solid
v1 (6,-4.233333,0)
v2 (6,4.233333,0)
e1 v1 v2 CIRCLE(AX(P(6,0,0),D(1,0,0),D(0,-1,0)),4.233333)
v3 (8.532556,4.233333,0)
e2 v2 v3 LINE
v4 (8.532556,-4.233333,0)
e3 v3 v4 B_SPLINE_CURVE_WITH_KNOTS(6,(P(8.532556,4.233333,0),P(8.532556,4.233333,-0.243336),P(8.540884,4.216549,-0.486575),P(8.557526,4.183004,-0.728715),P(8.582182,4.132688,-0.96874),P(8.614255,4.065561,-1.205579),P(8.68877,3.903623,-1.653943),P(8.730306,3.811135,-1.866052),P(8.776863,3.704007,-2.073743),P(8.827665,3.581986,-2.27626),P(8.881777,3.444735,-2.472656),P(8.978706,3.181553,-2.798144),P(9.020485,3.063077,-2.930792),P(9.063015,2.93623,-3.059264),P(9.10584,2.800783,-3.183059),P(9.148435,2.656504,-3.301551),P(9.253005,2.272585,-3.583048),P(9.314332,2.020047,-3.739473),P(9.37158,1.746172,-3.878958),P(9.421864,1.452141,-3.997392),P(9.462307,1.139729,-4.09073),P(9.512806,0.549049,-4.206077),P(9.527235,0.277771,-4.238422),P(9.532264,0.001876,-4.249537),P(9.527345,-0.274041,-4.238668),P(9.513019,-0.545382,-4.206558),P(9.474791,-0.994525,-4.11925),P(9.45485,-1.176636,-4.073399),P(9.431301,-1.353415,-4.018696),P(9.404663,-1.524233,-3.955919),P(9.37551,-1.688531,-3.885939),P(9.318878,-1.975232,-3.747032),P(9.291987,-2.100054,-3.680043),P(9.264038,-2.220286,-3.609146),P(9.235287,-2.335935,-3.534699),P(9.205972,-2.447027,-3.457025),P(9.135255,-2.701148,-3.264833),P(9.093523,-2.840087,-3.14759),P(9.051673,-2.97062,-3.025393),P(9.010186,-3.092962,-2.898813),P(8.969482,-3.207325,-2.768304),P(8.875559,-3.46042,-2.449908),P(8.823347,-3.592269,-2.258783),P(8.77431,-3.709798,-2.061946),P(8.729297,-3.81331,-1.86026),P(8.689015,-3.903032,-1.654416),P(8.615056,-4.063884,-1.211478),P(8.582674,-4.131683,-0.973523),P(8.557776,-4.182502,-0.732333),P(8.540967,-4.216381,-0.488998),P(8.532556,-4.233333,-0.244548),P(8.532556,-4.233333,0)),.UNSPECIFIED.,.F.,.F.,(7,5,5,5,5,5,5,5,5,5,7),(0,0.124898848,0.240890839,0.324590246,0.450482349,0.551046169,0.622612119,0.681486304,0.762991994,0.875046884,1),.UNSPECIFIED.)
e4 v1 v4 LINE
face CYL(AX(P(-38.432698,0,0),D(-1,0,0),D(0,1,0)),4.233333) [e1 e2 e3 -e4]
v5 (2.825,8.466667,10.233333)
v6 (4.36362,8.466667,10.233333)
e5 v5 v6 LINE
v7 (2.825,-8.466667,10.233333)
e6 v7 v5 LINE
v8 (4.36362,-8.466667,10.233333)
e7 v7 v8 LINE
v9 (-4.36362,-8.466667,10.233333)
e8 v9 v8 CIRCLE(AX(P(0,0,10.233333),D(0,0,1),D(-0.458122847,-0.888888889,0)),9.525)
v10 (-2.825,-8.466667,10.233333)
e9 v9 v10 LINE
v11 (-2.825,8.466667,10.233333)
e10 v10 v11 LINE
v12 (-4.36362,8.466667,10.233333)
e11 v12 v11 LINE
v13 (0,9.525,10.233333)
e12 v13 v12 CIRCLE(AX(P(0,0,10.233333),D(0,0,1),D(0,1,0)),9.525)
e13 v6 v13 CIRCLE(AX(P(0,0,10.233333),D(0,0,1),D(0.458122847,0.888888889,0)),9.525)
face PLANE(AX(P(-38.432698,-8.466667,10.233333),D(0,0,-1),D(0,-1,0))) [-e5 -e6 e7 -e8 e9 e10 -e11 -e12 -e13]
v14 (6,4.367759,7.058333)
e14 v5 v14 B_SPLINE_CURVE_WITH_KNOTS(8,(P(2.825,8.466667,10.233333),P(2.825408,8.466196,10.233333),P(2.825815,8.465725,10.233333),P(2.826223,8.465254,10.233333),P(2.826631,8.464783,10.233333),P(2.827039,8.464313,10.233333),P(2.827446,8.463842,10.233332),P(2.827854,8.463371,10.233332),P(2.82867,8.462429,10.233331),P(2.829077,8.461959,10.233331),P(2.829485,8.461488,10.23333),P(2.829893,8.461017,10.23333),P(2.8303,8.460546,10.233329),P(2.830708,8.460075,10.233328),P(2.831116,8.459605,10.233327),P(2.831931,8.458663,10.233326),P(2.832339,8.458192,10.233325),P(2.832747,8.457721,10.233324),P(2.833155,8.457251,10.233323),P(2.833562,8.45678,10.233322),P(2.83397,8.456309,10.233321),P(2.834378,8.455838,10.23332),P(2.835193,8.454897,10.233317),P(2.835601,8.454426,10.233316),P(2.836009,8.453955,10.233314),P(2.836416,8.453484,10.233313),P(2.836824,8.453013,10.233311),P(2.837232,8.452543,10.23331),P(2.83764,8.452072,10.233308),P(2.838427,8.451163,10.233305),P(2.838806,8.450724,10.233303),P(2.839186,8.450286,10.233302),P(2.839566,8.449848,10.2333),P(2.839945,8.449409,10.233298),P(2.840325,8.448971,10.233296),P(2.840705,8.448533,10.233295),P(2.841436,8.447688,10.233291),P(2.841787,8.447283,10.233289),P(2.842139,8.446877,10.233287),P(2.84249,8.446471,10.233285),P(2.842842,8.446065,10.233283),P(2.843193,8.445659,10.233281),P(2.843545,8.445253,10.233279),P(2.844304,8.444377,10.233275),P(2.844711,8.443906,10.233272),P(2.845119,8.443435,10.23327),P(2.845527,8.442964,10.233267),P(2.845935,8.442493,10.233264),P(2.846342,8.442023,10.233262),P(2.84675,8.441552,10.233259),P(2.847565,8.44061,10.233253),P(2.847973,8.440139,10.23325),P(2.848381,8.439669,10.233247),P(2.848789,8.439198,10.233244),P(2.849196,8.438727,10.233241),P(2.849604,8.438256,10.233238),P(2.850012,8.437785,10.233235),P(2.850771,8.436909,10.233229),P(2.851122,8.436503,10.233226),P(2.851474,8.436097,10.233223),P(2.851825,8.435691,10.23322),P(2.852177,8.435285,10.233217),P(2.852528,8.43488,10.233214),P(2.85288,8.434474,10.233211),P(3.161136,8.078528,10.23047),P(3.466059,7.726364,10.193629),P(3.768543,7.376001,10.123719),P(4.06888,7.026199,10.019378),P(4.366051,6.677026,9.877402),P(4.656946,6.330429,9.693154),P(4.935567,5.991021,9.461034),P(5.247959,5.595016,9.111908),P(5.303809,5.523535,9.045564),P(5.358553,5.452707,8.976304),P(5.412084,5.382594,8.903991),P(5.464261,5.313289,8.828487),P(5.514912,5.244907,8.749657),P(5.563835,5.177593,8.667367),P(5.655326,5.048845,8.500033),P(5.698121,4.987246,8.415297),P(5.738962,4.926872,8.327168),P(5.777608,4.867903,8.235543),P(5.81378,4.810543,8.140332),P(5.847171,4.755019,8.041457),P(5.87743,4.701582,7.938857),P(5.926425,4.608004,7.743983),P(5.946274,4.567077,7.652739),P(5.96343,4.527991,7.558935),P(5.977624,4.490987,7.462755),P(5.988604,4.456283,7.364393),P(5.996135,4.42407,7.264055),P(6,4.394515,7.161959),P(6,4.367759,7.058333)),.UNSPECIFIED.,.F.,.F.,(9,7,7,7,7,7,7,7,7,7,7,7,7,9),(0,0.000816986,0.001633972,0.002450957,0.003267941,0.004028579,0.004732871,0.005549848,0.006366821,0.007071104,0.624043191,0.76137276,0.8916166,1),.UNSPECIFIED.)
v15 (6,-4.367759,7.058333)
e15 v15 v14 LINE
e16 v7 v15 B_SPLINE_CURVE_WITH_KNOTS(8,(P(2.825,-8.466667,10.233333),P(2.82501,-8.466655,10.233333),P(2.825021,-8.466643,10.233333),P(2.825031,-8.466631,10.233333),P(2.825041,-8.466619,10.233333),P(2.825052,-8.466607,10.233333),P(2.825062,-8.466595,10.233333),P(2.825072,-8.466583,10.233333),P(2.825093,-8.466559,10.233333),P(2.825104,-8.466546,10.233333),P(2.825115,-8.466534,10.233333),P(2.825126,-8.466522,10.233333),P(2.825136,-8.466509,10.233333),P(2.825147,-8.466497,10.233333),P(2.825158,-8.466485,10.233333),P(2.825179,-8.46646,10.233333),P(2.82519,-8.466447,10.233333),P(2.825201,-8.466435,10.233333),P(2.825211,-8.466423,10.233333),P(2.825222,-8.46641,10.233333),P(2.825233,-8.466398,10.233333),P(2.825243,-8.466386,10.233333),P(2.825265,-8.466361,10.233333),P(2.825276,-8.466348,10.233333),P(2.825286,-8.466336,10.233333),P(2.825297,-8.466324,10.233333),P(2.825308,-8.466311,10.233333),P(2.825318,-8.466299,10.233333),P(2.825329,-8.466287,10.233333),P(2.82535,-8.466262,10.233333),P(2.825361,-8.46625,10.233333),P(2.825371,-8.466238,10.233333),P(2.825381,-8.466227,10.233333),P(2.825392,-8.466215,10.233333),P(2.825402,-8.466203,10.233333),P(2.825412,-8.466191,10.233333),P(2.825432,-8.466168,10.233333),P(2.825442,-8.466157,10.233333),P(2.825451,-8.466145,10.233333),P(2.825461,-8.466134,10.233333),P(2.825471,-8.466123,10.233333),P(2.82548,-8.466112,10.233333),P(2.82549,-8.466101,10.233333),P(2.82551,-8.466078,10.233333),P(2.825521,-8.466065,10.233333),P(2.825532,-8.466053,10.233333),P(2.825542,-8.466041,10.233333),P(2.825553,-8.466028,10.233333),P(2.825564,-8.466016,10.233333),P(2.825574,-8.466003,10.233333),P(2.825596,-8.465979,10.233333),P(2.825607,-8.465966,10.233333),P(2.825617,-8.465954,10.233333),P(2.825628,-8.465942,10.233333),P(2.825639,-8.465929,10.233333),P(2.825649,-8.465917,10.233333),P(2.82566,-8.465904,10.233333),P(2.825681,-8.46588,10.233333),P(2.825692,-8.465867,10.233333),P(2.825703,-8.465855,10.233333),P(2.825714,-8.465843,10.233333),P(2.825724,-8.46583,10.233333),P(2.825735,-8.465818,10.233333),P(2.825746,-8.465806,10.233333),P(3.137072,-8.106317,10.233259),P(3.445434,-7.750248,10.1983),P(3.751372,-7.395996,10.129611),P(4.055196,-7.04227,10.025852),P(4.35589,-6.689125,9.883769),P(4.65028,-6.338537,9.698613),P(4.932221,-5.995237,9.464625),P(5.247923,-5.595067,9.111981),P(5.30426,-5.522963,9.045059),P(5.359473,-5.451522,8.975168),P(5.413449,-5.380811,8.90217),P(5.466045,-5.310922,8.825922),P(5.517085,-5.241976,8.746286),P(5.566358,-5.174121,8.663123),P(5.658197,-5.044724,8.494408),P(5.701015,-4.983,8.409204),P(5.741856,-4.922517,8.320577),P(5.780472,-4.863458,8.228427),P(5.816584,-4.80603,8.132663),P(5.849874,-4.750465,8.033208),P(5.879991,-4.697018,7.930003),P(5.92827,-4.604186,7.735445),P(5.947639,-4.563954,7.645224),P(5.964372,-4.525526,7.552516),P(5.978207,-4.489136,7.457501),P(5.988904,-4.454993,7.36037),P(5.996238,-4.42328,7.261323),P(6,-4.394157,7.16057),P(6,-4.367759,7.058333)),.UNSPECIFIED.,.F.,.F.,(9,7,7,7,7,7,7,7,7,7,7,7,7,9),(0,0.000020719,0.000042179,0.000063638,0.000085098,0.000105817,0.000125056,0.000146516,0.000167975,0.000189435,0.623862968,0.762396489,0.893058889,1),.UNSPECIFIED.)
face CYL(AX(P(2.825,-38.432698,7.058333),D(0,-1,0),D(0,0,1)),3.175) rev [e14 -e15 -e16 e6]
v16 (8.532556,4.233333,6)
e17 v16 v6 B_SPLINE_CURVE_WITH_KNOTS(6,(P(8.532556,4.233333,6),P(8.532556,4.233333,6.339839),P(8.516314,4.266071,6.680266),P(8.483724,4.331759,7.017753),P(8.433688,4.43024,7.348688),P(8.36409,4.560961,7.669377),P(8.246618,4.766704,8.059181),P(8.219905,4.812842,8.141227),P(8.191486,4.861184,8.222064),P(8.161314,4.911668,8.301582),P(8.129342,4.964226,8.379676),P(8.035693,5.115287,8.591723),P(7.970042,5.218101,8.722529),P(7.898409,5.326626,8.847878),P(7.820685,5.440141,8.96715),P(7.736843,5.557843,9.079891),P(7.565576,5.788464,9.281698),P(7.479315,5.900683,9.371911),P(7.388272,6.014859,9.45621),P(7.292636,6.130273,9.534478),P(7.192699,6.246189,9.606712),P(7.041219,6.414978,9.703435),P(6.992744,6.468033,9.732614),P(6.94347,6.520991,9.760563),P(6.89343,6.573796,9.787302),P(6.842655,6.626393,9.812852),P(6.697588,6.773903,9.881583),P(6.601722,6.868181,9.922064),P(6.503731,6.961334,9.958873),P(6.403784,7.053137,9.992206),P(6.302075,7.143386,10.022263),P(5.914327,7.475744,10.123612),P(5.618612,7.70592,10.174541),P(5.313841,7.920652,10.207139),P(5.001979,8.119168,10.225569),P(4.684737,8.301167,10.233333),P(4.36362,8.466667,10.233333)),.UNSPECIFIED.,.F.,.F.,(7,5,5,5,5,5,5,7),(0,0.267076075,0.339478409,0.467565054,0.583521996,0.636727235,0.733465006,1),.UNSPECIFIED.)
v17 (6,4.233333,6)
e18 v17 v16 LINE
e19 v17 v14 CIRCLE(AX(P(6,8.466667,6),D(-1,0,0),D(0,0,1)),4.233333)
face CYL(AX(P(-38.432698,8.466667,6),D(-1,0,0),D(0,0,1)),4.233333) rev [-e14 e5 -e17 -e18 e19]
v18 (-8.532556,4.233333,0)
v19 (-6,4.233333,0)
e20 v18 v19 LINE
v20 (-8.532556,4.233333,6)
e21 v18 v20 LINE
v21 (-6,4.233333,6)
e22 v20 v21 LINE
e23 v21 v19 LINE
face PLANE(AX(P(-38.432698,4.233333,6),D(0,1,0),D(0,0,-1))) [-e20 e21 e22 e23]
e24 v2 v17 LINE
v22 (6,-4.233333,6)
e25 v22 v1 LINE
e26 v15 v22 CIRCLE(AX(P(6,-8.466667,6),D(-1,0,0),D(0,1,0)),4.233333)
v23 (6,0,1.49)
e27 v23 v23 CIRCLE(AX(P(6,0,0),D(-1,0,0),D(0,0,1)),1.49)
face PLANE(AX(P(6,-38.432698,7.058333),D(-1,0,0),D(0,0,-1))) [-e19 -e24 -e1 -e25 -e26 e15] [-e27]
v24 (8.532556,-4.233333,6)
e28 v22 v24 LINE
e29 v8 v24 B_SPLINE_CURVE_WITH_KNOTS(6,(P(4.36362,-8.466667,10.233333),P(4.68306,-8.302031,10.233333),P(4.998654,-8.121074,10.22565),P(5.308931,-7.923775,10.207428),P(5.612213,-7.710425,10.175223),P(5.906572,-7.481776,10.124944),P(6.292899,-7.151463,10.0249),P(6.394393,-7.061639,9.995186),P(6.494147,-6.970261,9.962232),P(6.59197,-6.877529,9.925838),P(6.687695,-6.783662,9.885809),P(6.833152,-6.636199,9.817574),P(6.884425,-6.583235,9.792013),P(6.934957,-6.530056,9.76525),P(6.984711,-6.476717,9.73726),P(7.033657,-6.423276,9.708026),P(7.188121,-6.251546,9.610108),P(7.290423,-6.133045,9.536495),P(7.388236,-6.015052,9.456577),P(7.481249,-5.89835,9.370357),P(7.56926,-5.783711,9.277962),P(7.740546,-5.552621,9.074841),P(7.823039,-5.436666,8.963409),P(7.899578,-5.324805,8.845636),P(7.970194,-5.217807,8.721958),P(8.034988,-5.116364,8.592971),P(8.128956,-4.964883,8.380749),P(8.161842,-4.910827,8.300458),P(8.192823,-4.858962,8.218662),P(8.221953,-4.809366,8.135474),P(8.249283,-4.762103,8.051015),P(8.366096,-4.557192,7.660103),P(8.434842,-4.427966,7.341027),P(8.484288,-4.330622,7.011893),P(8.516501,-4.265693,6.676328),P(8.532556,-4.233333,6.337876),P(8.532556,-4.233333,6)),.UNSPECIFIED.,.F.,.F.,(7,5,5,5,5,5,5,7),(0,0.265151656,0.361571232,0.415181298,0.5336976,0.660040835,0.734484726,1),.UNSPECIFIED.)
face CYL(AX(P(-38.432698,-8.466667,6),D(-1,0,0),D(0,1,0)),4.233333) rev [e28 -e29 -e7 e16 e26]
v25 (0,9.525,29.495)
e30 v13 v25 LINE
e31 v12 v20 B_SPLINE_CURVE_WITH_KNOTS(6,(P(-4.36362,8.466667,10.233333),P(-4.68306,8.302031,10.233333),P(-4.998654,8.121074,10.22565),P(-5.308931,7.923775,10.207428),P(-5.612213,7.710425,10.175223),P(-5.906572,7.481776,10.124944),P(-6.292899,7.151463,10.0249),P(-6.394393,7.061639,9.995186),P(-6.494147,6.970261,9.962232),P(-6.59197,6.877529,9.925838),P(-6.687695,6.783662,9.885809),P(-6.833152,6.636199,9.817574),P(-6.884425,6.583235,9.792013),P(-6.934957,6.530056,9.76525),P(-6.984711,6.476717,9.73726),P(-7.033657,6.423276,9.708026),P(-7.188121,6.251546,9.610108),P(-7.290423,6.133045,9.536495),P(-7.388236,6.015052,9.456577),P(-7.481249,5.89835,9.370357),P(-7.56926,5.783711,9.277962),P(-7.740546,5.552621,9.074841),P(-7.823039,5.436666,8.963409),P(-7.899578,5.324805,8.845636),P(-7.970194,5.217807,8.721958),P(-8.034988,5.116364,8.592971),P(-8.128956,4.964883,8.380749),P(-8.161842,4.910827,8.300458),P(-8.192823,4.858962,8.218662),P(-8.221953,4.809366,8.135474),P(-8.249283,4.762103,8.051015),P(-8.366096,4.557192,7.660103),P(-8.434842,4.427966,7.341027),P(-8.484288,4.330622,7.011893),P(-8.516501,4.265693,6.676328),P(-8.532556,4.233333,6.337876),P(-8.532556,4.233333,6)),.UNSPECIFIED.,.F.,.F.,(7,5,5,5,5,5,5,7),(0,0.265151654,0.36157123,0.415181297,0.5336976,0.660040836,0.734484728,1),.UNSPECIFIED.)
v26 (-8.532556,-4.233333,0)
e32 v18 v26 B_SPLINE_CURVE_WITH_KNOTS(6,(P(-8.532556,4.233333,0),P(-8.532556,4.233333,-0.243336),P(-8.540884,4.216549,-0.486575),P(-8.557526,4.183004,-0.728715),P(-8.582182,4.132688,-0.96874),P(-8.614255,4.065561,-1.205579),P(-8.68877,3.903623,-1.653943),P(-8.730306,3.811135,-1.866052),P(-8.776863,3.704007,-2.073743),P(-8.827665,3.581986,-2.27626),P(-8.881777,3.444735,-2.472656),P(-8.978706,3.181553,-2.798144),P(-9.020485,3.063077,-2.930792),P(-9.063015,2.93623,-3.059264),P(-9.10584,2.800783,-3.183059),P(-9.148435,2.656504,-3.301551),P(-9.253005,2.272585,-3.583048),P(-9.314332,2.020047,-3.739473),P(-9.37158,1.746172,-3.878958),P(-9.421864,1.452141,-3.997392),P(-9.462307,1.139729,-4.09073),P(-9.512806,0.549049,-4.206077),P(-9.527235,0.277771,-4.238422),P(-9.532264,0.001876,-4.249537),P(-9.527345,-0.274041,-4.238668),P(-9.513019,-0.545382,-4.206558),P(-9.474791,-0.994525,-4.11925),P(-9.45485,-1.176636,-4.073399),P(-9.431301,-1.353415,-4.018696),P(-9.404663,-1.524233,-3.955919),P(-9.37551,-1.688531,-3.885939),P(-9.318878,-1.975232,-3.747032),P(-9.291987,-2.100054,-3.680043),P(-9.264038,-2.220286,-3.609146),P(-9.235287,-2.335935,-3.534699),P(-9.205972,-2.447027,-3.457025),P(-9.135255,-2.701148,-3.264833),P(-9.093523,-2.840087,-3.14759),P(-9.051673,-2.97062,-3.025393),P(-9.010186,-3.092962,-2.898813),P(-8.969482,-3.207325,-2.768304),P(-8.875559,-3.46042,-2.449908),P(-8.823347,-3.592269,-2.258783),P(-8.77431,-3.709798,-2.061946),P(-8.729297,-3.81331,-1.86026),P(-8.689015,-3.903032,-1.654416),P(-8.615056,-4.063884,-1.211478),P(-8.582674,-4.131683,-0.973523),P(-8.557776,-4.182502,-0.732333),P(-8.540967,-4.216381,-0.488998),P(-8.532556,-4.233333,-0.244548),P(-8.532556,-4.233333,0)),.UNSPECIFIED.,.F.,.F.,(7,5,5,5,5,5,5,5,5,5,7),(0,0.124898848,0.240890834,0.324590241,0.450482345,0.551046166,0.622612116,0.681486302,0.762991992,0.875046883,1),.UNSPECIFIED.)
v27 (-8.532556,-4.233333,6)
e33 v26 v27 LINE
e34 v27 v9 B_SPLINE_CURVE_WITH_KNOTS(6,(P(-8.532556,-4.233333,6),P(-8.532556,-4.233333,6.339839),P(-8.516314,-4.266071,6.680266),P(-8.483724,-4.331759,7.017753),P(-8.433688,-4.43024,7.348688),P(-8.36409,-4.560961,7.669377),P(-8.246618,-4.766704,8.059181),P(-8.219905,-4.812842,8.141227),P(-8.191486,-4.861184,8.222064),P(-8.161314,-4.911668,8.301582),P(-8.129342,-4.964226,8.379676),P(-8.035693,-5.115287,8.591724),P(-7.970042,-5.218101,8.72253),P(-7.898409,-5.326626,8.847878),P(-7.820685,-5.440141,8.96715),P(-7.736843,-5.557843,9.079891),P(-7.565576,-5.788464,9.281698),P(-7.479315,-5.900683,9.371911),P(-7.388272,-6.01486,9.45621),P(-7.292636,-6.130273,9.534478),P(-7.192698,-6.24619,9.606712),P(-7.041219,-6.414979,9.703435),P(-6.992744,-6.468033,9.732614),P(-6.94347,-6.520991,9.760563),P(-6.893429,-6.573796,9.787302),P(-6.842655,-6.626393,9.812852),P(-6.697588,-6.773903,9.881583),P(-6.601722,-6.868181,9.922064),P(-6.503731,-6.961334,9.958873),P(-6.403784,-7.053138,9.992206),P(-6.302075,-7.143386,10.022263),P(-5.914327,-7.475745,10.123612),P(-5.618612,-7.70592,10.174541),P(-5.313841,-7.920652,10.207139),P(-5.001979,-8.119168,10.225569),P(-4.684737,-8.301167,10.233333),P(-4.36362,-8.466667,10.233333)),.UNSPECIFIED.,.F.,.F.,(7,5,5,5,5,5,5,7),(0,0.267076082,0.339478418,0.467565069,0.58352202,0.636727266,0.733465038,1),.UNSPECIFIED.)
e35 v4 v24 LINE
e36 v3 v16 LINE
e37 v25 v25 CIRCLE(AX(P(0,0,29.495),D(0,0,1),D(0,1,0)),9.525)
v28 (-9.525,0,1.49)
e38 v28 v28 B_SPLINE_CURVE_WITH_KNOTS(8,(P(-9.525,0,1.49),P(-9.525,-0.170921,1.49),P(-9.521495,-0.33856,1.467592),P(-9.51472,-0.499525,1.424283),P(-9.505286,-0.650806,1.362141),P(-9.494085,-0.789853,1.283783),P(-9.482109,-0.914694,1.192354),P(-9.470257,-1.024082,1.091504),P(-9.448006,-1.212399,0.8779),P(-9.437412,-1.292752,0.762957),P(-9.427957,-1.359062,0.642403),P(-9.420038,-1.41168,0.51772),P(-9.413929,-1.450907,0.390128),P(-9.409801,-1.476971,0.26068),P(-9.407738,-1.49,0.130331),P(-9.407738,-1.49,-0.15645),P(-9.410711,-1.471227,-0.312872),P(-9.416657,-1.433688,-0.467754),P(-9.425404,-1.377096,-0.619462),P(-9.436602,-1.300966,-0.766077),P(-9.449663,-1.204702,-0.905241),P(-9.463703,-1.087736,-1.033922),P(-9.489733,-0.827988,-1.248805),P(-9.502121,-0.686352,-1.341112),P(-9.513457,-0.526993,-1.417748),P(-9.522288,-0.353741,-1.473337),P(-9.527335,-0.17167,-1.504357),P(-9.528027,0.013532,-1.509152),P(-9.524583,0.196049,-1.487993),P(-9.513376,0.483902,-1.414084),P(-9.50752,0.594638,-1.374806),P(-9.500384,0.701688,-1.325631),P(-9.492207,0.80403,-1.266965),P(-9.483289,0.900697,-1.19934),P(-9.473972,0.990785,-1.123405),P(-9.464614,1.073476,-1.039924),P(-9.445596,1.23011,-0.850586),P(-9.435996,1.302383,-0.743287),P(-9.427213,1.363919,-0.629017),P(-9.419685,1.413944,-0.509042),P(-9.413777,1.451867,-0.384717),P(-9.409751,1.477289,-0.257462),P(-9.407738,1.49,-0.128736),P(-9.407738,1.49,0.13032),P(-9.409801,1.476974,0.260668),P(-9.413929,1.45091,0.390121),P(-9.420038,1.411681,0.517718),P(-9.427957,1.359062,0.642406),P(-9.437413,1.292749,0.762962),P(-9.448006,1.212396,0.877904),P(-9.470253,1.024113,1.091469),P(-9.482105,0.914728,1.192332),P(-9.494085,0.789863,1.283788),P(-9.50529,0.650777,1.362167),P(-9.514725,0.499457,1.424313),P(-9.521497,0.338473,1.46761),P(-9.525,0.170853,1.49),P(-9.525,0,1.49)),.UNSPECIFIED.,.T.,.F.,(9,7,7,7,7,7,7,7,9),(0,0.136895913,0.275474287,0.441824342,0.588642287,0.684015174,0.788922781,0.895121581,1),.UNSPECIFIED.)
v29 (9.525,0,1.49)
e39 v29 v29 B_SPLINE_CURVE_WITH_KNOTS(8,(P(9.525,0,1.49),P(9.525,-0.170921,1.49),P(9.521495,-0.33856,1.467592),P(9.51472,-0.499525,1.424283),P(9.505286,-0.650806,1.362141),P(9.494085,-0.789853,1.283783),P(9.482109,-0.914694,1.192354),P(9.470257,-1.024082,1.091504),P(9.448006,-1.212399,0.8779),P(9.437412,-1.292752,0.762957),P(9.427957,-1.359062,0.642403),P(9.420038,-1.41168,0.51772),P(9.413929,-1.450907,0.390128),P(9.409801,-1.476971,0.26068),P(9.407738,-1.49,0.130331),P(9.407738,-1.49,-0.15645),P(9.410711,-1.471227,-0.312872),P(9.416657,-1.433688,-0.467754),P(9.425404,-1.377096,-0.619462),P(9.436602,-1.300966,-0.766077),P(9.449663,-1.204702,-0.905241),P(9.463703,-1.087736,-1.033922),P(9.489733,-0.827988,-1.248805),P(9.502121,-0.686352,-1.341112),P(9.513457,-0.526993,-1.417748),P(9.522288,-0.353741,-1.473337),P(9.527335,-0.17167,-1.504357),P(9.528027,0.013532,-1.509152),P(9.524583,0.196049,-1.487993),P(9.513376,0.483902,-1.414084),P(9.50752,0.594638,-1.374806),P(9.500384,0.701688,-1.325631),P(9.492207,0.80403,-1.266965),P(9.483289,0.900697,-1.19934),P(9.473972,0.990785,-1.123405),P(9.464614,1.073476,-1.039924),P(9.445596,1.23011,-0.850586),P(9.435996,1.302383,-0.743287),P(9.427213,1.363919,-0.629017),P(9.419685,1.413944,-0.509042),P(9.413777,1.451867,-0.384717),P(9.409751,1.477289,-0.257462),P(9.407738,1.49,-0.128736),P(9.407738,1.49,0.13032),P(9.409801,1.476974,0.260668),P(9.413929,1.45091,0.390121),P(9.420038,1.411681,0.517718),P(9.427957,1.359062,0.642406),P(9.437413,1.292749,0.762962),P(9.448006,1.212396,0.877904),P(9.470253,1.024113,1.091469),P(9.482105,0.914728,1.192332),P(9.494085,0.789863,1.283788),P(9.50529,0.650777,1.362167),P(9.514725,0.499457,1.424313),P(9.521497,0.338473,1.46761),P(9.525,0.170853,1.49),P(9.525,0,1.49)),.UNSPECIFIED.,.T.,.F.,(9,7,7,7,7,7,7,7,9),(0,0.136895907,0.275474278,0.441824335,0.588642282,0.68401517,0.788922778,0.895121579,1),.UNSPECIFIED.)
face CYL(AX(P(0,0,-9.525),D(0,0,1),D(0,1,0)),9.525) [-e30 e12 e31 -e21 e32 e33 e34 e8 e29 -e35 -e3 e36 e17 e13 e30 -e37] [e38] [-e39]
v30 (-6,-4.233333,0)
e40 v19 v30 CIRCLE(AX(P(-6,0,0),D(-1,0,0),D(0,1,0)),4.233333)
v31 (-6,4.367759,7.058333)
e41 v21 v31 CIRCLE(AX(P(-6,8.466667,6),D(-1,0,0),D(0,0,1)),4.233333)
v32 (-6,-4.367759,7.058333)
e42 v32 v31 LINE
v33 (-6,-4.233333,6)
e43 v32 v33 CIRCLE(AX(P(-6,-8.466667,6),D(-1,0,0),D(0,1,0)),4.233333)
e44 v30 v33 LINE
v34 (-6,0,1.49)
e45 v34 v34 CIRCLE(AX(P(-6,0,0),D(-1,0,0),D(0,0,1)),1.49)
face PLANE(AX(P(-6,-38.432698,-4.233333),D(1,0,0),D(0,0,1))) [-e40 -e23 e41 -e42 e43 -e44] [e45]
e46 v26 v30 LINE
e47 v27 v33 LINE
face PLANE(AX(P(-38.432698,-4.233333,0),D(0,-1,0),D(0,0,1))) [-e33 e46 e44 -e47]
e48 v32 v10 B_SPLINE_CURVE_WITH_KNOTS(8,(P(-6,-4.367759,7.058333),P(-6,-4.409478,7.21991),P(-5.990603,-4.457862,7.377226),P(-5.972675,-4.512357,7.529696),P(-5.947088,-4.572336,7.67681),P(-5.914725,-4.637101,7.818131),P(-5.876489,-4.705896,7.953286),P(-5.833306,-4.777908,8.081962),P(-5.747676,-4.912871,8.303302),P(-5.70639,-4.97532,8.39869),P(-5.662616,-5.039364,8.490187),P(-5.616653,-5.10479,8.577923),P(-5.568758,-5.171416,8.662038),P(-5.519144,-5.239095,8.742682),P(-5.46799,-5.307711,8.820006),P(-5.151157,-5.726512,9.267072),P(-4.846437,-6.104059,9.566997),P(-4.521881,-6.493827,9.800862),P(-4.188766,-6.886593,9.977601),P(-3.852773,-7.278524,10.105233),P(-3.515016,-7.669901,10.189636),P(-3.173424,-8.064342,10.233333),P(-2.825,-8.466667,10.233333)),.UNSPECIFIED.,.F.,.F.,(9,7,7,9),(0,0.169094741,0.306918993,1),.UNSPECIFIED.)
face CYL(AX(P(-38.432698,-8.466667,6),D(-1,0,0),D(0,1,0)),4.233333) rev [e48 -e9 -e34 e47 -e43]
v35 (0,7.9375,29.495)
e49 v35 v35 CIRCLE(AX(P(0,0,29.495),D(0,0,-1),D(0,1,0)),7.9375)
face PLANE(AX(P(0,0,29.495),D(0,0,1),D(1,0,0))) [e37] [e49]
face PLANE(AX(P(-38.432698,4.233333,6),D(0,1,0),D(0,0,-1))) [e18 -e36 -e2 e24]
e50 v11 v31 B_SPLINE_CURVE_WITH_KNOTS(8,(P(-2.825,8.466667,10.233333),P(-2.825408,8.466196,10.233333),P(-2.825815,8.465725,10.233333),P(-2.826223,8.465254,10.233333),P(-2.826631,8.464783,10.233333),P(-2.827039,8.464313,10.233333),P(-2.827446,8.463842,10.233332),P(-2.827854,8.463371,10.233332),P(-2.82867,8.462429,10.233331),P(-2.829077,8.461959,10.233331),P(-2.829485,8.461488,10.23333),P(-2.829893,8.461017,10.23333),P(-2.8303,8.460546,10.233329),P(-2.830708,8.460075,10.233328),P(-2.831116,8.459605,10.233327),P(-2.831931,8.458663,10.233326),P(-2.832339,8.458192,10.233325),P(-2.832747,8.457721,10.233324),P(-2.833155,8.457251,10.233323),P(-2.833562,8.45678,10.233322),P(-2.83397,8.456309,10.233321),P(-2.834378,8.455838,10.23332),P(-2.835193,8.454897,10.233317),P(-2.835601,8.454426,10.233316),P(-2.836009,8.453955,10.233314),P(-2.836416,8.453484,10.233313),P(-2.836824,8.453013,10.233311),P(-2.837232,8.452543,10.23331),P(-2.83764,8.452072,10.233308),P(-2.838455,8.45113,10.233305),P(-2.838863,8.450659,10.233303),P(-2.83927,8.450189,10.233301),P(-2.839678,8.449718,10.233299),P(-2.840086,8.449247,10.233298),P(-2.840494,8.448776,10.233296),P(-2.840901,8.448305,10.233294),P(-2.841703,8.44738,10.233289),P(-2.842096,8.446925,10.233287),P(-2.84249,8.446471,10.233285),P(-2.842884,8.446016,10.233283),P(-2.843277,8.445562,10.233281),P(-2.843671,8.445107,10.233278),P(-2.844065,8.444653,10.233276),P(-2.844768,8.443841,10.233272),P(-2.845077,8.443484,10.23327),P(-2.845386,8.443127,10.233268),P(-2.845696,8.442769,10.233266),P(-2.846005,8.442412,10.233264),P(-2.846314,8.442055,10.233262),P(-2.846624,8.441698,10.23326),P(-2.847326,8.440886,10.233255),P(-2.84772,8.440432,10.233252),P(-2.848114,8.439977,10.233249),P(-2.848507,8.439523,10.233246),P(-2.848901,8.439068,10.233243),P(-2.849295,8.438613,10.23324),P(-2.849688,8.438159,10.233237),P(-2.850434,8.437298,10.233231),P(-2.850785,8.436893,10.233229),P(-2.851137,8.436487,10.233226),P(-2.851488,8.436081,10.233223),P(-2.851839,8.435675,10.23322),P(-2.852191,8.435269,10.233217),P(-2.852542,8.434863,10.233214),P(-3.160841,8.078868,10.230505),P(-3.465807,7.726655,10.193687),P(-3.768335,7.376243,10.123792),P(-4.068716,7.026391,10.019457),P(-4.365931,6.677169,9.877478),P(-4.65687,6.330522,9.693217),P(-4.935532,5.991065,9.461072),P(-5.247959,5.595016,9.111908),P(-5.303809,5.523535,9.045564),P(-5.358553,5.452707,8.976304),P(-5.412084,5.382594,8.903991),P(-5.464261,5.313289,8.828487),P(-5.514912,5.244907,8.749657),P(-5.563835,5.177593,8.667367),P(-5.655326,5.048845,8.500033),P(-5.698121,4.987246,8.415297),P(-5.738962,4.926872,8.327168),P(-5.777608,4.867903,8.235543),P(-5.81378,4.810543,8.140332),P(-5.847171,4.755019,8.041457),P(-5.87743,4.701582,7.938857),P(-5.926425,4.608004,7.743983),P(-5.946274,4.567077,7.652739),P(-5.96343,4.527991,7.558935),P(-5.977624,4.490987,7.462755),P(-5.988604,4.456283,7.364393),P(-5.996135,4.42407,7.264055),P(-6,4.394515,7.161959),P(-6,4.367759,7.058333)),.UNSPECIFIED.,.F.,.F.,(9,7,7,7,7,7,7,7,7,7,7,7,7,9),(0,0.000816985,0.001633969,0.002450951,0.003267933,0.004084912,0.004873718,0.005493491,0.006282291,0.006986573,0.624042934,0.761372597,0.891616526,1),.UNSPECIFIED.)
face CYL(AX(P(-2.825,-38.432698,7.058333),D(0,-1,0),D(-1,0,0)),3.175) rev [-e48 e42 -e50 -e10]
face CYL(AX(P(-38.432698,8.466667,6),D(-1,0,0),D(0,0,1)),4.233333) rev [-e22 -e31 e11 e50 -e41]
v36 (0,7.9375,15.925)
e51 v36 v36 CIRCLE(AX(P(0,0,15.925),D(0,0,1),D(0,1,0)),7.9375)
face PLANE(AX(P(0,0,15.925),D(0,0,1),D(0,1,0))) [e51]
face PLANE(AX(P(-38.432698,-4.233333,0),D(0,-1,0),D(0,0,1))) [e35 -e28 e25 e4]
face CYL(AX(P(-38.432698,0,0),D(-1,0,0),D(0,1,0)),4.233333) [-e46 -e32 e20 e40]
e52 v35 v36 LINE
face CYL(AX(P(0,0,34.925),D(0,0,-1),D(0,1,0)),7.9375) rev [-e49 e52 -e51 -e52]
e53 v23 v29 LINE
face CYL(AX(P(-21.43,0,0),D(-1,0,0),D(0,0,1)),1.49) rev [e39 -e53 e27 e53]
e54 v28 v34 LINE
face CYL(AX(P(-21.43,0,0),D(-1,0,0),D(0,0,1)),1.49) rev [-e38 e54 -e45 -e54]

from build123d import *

# Parameters (mm, degrees)
CUT_EXTRUDE1_DEPTH      = 38.432697939
CUT_EXTRUDE1_DEPTH_BACK = 38.432697939
CUT_EXTRUDE2_DEPTH      = 38.432698083
CUT_EXTRUDE2_DEPTH_BACK = 38.432698083
SKETCH5_W               = 23.799010272
SKETCH5_H               = 22.882778694
CUT_EXTRUDE3_DEPTH      = 5.43
CUT_EXTRUDE4_DEPTH      = 25.43
CUT_EXTRUDE4_DEPTH_BACK = 15.43
SKETCH6_R               = 1.49


with BuildPart() as part:
    # Sketch1 → Revolve1 (revolve)
    with BuildSketch(Plane(origin=(0, 0, 0), x_dir=(0, 0, -1), z_dir=(1, 0, 0))):
        Polygon((-34.925, 9.525), (-34.925, 7.9375), (-15.925, 7.9375), (-15.925, 0), (9.525, 0), (9.525, 9.525), align=None)
    revolve(axis=Axis((0, 0, 0), (0, 0, 1)))

    # Sketch3 → Cut-Extrude1 (cut, two sides: drawn at the far end of the back side and taken through both)
    with BuildSketch(Plane(origin=(0, 0, 0), x_dir=(0, 0, -1), z_dir=(1, 0, 0)).offset(-CUT_EXTRUDE1_DEPTH_BACK)):
        with BuildLine():
            Line((9.525, 9.525), (-10.233333333, 9.525))
            Line((-10.233333333, 9.525), (-10.233333333, 8.466666667))
            ThreePointArc((-10.233333333, 8.466666667), (-8.993418707, 5.47324796), (-6, 4.233333333))
            Line((-6, 4.233333333), (0, 4.233333333))
            ThreePointArc((0, 4.233333333), (4.233333333, 0), (0, -4.233333333))
            Line((0, -4.233333333), (-6, -4.233333333))
            ThreePointArc((-6, -4.233333333), (-8.993418707, -5.47324796), (-10.233333333, -8.466666667))
            Line((-10.233333333, -8.466666667), (-10.233333333, -9.525))
            Line((-10.233333333, -9.525), (9.525, -9.525))
            Line((9.525, -9.525), (9.525, 9.525))
        make_face()
    extrude(amount=CUT_EXTRUDE1_DEPTH + CUT_EXTRUDE1_DEPTH_BACK, mode=Mode.SUBTRACT)

    # Sketch4 → Cut-Extrude2 (cut, two sides: drawn at the far end of the back side and taken through both)
    with BuildSketch(Plane(origin=(0, 0, 0), x_dir=(1, 0, 0), z_dir=(0, 1, 0)).offset(-CUT_EXTRUDE2_DEPTH_BACK)):
        with BuildLine():
            Line((-2.825, -10.233333333), (2.825, -10.233333333))
            ThreePointArc((2.825, -10.233333333), (5.07006403, -9.303397364), (6, -7.058333333))
            Line((6, -7.058333333), (6, 4.233333333))
            Line((6, 4.233333333), (-6, 4.233333333))
            Line((-6, 4.233333333), (-6, -7.058333333))
            ThreePointArc((-6, -7.058333333), (-5.07006403, -9.303397364), (-2.825, -10.233333333))
        make_face()
    extrude(amount=CUT_EXTRUDE2_DEPTH + CUT_EXTRUDE2_DEPTH_BACK, mode=Mode.SUBTRACT)

    # Sketch5 → Cut-Extrude3 (cut)
    with BuildSketch(Plane.XY.offset(34.925)):
        Rectangle(SKETCH5_W, SKETCH5_H)
    extrude(amount=-CUT_EXTRUDE3_DEPTH, mode=Mode.SUBTRACT)

    # Sketch6 → Cut-Extrude4 (cut, two sides: drawn at the far end of the back side and taken through both)
    with BuildSketch(Plane(origin=(-6, 0, 0), x_dir=(0, 0, -1), z_dir=(1, 0, 0)).offset(-CUT_EXTRUDE4_DEPTH_BACK)):
        Circle(SKETCH6_R)
    extrude(amount=CUT_EXTRUDE4_DEPTH + CUT_EXTRUDE4_DEPTH_BACK, mode=Mode.SUBTRACT)


solid = part.part
